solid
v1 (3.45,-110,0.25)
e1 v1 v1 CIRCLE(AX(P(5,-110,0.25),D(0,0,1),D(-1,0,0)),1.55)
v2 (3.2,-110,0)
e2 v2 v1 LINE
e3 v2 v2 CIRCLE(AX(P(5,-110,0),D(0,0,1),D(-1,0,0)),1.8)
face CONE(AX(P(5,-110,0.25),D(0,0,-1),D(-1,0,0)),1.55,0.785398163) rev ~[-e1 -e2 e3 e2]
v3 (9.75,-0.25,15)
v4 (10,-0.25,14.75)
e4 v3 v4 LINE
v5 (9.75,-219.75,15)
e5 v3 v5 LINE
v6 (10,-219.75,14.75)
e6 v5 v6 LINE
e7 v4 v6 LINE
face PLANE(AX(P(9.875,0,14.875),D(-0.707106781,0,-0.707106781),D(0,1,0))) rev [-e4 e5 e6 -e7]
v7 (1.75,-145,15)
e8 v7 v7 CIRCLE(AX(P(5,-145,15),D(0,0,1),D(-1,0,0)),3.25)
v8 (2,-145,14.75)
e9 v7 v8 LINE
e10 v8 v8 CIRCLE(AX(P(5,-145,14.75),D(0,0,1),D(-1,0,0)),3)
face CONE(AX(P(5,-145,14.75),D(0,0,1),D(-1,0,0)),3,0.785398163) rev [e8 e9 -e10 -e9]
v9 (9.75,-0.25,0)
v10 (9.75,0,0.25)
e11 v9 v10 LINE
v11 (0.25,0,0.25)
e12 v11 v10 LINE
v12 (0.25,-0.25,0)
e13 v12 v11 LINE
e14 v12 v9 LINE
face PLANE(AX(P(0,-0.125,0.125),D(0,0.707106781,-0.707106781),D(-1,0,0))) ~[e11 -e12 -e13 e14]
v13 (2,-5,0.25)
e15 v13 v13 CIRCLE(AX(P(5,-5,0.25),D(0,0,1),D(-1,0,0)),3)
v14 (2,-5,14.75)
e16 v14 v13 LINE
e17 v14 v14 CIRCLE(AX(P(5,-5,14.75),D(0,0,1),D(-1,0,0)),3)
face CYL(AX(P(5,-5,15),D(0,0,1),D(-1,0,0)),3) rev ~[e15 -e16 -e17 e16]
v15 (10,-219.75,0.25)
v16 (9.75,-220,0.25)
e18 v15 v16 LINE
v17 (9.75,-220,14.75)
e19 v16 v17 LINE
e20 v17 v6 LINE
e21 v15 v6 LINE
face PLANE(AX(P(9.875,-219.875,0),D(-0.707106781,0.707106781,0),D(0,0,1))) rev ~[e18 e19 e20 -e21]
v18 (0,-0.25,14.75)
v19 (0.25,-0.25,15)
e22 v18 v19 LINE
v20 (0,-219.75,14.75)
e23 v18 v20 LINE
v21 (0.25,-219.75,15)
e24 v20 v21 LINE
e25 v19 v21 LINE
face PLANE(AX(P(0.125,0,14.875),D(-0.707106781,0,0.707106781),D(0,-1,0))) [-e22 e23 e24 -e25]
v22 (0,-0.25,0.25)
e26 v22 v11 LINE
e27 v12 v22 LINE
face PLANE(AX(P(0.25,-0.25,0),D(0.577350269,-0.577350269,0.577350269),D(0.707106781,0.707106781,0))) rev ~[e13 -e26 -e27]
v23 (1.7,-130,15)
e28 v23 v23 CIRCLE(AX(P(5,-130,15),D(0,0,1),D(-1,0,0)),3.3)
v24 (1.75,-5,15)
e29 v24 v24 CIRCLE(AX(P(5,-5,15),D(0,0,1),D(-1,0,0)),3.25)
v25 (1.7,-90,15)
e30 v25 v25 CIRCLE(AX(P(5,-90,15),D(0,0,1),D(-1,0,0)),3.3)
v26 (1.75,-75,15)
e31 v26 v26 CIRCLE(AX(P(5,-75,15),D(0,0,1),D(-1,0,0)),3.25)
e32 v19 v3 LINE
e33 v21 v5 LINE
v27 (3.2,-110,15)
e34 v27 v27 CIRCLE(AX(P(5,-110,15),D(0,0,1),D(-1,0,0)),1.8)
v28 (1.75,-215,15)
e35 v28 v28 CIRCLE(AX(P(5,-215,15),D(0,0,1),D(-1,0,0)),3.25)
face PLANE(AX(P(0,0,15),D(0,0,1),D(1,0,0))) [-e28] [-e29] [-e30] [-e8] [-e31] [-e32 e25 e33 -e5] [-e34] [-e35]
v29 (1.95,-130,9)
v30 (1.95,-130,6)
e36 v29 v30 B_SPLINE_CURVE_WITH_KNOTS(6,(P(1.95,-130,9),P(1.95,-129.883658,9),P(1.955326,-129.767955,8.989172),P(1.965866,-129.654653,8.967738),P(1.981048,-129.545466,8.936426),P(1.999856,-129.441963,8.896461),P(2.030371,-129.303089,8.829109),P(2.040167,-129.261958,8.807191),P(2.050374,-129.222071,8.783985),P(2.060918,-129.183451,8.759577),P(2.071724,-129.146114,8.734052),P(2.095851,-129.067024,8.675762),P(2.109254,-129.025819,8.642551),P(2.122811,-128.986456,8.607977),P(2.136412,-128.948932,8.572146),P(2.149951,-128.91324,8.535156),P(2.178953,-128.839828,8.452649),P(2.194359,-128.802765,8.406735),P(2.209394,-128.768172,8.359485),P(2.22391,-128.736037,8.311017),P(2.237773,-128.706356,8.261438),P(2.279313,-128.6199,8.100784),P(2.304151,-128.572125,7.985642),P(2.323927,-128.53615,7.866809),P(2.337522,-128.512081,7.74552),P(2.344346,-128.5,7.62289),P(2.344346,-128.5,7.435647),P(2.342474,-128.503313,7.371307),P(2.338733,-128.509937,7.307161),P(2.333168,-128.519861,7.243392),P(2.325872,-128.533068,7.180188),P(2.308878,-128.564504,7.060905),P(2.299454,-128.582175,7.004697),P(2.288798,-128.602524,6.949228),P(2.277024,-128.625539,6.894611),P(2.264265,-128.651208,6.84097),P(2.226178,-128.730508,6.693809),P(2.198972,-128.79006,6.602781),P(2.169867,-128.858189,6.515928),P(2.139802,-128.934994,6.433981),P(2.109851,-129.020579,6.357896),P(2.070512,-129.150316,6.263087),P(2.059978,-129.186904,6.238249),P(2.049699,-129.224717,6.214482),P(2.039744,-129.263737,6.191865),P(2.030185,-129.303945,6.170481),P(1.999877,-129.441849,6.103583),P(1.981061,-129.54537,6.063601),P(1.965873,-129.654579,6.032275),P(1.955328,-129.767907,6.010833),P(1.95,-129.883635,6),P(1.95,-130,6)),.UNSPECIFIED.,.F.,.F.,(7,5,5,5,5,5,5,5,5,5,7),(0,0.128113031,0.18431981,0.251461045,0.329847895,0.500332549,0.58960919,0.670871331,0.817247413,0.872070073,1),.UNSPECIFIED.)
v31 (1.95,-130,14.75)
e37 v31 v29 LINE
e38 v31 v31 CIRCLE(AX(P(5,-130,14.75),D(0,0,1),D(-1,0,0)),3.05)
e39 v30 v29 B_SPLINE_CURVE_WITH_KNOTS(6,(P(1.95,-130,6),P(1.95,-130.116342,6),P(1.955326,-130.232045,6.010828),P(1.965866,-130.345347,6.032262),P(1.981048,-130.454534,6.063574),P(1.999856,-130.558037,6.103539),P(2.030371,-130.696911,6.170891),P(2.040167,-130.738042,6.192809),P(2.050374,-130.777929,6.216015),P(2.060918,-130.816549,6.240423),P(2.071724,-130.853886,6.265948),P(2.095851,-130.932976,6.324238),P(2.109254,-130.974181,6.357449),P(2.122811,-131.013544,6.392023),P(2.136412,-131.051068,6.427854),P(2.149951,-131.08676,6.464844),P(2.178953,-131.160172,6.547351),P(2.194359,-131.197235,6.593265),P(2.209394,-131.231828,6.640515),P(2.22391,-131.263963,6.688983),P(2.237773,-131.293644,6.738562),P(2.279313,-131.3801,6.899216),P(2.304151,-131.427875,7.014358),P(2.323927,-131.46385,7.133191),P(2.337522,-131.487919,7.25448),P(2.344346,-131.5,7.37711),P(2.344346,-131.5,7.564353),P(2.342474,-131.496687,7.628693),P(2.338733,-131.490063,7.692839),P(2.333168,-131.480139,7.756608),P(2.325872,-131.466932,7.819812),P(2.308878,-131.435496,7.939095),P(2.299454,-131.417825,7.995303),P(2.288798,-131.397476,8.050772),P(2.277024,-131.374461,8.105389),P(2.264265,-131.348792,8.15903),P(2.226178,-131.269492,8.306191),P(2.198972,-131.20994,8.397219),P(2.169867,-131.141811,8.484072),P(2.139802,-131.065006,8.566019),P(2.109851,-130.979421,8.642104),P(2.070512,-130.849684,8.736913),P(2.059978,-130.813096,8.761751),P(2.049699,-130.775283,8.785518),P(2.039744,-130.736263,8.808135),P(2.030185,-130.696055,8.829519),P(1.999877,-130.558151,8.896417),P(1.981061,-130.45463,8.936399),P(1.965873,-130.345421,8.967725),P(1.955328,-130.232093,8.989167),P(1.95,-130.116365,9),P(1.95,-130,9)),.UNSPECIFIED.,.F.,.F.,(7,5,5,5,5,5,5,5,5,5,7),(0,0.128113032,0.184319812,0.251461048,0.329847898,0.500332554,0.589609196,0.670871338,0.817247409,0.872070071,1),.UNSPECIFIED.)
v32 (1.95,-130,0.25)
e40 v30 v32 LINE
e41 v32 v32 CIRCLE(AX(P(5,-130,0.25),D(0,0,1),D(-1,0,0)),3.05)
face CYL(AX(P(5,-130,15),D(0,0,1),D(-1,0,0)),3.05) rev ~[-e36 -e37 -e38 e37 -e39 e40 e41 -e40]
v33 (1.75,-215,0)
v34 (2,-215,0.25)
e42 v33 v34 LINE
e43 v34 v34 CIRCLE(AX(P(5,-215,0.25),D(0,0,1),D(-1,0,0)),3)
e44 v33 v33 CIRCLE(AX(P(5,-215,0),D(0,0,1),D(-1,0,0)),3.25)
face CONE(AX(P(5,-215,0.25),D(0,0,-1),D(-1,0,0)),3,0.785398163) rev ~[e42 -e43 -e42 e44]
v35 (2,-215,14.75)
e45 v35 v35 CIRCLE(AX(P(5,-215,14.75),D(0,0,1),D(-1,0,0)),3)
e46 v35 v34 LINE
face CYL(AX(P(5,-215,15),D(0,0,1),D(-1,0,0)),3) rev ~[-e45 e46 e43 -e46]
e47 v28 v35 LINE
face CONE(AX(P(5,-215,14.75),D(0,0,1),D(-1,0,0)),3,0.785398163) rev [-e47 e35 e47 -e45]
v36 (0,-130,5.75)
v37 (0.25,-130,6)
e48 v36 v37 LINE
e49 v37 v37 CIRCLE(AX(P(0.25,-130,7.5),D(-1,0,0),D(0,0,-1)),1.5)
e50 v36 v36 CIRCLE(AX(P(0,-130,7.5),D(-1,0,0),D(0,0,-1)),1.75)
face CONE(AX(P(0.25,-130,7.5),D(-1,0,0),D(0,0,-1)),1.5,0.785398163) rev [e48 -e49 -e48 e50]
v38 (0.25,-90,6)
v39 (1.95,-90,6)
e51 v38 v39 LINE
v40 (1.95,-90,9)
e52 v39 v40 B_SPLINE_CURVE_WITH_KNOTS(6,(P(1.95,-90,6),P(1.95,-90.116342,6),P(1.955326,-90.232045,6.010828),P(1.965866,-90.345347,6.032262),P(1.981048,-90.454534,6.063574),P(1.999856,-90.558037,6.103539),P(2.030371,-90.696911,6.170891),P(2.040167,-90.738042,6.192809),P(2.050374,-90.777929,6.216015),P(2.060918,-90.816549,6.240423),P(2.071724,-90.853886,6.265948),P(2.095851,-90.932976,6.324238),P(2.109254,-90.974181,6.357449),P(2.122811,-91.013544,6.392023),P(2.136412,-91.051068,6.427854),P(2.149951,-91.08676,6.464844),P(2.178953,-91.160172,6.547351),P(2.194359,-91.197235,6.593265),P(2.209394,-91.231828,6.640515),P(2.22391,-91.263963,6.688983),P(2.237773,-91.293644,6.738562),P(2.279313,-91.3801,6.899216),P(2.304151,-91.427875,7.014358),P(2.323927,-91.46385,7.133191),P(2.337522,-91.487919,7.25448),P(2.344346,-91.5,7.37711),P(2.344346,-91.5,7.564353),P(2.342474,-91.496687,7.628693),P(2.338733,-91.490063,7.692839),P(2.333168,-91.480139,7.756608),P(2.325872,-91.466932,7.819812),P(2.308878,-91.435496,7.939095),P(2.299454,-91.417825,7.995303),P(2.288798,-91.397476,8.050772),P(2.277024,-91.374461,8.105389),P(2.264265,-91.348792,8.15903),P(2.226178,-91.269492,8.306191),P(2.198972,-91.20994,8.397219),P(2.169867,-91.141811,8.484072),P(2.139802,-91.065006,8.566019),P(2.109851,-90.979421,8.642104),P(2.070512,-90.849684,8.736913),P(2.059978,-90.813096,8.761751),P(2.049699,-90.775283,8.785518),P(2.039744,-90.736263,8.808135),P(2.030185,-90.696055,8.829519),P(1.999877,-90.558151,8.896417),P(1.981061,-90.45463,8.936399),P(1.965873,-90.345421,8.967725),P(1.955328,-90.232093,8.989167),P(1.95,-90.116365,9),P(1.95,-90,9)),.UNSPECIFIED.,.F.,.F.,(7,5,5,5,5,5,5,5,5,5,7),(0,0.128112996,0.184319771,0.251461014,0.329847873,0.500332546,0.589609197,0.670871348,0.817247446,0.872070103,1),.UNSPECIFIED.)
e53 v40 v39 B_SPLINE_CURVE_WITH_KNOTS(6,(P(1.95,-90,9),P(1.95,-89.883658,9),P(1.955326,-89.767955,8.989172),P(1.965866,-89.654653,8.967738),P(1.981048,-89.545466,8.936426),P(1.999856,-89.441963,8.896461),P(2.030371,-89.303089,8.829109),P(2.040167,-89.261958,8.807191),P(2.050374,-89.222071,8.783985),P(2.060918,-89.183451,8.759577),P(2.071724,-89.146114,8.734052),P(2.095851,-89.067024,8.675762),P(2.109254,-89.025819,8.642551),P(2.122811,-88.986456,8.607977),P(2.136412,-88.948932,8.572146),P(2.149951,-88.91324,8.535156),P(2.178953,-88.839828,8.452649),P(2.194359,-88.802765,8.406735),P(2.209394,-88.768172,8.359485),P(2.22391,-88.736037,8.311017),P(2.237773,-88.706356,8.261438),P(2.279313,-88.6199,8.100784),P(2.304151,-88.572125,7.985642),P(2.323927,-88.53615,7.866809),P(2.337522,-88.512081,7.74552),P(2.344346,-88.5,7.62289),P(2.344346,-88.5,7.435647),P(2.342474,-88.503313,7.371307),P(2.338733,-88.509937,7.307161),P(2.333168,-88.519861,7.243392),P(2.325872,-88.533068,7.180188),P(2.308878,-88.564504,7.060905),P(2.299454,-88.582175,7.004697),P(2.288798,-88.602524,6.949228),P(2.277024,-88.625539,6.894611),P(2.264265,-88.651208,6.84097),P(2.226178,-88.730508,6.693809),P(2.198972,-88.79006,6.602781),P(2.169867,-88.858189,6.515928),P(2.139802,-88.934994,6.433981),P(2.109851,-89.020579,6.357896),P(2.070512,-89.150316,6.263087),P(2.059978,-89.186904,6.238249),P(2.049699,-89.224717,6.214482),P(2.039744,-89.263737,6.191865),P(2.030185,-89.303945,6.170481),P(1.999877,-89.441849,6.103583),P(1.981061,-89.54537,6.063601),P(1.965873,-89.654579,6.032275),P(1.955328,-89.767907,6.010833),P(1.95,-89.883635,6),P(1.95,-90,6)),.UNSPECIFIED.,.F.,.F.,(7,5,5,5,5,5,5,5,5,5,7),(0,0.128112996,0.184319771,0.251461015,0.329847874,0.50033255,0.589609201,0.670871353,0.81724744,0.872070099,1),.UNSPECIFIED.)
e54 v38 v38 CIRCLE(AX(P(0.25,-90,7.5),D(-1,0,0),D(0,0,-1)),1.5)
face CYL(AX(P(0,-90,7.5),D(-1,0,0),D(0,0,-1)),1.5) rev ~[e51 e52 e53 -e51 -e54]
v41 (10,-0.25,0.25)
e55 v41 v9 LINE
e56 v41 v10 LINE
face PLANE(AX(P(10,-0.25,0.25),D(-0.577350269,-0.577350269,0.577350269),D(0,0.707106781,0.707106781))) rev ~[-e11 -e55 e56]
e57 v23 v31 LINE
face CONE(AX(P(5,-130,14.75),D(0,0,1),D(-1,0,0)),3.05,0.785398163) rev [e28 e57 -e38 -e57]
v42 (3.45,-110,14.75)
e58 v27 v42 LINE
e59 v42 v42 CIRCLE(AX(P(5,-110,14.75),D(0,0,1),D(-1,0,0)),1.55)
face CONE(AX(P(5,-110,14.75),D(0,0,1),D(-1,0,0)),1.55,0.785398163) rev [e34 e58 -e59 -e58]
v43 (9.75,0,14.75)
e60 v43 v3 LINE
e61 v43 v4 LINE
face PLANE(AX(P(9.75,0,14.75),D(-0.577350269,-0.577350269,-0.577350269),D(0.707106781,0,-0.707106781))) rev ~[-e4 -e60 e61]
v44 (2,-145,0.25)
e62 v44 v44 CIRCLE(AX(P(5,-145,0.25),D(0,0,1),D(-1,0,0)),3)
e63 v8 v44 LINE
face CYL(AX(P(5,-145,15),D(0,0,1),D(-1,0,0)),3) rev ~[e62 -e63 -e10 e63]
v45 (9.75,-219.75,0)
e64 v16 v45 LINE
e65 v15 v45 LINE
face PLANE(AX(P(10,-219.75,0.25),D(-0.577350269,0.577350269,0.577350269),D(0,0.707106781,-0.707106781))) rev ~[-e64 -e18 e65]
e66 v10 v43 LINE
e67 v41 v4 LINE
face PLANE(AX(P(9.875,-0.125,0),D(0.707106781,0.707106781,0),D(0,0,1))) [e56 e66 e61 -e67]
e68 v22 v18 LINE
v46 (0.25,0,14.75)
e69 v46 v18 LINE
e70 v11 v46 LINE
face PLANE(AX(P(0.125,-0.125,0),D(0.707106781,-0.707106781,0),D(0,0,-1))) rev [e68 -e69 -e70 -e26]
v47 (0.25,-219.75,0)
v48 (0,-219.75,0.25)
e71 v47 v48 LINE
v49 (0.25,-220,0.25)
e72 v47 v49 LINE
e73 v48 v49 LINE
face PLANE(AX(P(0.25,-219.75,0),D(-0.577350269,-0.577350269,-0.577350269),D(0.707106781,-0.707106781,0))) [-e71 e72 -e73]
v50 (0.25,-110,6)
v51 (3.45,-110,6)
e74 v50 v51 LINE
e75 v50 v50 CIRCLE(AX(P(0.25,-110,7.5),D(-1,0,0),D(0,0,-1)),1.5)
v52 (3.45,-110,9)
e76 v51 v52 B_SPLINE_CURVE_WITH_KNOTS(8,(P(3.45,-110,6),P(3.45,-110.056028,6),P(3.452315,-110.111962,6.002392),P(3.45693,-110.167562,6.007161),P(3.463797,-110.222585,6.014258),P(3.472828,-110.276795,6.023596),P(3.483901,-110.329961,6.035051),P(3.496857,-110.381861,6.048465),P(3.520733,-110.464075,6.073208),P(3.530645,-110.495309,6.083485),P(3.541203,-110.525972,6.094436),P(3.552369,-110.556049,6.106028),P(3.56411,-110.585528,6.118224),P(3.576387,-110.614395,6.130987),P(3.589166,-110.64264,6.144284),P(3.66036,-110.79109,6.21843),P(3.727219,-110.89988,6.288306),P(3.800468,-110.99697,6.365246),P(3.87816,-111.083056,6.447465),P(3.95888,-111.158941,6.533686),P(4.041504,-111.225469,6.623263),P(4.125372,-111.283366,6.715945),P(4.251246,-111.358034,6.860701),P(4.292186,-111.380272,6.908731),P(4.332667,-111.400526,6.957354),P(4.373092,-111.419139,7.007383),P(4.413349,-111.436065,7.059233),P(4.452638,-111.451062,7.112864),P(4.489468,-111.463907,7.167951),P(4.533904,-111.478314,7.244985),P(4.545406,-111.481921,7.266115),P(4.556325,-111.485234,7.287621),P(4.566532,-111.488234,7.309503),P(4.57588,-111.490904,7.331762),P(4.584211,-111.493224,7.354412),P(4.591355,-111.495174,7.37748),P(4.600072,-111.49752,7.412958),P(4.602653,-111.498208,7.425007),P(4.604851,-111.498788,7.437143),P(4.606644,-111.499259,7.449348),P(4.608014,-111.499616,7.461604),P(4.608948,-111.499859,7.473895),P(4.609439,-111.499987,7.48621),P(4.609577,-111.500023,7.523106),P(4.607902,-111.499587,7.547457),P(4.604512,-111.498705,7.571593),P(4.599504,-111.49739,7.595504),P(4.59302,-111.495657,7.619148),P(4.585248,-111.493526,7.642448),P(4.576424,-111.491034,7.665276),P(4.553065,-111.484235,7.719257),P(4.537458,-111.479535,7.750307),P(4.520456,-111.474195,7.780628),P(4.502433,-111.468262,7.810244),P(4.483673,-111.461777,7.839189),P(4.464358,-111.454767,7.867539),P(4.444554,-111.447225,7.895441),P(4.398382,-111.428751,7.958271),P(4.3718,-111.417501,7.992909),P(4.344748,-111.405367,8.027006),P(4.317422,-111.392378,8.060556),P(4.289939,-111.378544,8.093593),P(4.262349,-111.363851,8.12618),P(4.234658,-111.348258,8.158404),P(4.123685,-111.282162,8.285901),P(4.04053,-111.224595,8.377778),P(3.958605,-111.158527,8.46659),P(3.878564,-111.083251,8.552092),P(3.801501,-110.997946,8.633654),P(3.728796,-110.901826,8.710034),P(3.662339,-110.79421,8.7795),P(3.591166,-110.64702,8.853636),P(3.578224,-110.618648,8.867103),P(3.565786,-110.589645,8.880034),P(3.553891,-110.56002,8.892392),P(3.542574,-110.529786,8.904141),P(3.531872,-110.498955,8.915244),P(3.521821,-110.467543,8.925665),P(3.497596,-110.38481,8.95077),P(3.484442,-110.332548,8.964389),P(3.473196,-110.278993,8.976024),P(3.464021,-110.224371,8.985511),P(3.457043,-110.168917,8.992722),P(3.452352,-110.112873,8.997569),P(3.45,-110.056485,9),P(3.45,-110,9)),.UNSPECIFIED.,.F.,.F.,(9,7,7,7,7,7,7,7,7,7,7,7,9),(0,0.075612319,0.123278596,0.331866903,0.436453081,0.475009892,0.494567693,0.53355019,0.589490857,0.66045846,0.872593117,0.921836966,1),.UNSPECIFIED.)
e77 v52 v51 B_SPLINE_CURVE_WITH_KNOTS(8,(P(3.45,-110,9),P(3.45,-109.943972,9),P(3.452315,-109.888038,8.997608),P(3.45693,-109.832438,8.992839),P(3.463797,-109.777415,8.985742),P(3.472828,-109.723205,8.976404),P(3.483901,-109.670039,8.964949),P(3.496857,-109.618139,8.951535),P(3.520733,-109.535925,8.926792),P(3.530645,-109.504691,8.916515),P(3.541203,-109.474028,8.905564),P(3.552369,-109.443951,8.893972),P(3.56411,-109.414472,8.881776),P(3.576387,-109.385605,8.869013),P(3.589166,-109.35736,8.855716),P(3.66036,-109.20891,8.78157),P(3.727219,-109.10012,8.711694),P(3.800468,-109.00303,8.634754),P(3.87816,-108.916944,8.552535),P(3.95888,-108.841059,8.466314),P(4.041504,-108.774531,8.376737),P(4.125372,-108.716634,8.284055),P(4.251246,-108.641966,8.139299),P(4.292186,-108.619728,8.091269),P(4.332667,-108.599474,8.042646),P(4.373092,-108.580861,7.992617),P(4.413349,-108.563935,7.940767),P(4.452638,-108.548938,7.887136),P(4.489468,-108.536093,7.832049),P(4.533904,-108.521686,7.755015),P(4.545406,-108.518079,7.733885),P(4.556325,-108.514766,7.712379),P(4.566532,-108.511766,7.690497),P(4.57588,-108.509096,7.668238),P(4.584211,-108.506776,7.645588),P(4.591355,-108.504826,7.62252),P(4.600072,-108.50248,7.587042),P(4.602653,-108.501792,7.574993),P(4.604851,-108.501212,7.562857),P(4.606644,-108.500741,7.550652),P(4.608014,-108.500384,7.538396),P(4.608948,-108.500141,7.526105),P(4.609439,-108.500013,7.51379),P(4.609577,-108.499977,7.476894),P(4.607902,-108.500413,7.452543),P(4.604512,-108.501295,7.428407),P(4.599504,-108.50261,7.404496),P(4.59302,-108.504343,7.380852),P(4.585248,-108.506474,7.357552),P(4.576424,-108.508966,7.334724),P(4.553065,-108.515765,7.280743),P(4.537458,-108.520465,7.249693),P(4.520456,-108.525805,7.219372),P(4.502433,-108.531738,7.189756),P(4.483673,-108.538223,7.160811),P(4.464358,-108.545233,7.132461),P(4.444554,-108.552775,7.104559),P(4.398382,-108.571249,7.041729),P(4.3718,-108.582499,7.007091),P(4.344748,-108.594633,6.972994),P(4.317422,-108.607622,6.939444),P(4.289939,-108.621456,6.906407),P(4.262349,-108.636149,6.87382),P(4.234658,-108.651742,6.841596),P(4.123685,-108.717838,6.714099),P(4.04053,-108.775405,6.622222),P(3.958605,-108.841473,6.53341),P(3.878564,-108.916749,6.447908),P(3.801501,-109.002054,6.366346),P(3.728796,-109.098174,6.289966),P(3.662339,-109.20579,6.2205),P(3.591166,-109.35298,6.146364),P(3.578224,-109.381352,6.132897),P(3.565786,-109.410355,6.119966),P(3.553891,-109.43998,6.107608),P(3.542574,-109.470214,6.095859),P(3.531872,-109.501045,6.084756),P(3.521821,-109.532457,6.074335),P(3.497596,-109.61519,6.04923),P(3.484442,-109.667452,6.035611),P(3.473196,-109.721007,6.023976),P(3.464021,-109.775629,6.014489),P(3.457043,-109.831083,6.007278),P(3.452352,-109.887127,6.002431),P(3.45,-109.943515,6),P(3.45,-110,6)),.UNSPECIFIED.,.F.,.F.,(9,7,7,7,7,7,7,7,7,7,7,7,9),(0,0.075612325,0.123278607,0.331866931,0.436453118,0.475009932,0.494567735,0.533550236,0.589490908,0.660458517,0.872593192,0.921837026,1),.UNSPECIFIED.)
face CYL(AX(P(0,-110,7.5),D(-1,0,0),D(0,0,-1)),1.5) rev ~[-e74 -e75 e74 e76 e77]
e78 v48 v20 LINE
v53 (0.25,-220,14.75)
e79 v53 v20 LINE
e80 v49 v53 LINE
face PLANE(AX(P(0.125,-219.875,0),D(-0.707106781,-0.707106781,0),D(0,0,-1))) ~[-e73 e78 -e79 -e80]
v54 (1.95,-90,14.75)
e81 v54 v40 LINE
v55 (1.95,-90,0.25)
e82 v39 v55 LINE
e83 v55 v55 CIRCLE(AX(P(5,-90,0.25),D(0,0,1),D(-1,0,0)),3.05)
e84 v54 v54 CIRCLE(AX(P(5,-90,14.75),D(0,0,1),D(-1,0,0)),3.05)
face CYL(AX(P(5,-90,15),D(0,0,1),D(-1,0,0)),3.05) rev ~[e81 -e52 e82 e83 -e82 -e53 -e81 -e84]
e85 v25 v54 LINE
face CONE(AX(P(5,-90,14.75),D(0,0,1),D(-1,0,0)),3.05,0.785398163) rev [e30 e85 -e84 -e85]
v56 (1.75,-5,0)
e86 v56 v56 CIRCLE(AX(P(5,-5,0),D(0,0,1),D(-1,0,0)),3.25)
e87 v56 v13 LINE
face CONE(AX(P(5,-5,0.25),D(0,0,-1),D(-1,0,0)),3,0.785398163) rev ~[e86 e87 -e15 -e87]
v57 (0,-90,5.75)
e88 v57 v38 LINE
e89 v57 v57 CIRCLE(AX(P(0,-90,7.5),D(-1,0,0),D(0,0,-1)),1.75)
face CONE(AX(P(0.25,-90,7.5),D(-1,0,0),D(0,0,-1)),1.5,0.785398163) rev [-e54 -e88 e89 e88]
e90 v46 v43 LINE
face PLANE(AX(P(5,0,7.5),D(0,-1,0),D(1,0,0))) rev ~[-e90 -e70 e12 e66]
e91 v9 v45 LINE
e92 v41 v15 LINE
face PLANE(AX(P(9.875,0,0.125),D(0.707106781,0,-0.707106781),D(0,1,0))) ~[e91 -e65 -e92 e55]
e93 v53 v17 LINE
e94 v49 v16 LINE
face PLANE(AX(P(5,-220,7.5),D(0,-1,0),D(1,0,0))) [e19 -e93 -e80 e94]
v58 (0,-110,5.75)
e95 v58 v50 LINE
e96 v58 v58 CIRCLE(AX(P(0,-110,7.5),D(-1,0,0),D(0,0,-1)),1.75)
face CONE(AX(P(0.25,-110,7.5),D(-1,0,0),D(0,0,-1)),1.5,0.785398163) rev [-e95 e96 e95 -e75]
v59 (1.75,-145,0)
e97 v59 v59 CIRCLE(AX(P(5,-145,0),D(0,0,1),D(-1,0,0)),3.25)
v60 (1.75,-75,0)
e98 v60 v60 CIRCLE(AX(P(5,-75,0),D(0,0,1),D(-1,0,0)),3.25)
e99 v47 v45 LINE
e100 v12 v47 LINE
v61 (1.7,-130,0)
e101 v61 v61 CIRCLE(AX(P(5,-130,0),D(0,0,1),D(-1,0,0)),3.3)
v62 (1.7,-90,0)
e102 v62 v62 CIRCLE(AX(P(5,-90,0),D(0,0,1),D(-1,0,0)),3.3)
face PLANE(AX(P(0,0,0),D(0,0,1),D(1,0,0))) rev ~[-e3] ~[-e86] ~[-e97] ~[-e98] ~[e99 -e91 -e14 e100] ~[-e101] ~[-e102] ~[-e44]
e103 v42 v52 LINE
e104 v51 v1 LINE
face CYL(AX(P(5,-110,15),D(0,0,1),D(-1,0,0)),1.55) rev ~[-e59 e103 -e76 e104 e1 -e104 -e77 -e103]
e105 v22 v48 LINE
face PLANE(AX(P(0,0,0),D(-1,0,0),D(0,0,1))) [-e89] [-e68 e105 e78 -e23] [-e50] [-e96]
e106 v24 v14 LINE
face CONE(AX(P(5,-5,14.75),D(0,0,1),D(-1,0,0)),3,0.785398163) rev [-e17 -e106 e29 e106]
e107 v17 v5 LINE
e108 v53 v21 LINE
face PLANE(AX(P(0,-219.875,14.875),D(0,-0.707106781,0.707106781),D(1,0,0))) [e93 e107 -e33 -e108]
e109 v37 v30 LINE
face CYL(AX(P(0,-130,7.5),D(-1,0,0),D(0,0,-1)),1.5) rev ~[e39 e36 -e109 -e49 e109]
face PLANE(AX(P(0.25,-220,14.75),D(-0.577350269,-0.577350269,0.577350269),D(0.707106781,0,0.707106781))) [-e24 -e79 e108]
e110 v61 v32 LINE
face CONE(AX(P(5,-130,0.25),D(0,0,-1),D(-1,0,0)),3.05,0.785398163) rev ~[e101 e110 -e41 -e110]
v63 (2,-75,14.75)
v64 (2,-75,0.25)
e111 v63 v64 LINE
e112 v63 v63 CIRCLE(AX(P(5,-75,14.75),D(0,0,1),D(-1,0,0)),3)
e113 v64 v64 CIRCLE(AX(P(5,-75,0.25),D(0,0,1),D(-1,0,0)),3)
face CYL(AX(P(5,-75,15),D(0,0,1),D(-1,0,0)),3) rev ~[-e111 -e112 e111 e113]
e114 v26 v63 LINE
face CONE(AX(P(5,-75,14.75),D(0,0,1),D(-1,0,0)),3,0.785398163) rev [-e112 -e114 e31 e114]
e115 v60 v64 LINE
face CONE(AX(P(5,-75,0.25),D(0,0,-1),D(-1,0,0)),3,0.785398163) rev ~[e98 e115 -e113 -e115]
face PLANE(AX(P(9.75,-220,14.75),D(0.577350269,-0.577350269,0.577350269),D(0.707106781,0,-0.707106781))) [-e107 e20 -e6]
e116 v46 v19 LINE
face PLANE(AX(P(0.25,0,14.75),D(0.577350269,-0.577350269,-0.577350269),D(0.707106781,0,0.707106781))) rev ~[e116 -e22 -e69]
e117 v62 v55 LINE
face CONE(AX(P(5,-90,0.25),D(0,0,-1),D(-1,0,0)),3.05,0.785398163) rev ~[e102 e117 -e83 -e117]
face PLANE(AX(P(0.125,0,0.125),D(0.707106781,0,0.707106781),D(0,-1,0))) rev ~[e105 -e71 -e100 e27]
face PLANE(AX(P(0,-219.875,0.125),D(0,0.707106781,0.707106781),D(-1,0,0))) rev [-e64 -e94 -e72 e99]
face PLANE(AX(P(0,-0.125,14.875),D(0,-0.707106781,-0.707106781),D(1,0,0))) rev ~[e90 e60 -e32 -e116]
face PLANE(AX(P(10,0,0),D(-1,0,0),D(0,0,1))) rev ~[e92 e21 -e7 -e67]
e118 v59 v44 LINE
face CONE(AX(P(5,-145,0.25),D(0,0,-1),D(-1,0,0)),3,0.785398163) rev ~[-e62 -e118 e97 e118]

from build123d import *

# Parameters (mm, degrees)
SKETCH_W        = 10
SKETCH_H        = 15
PAD_DEPTH       = 220
SKETCH001_R     = 3
POCKET_DEPTH    = 15.001
SKETCH002_R     = 3.05
SKETCH002_R_2   = 1.55
POCKET001_DEPTH = 15.001
SKETCH003_R     = 1.5
POCKET002_DEPTH = 5
CHAMFER_SIZE    = 0.25


with BuildPart() as part:
    # Sketch → Pad (new body)
    with BuildSketch(Plane.XZ):
        with Locations((5, 7.5)):
            Rectangle(SKETCH_W, SKETCH_H)
    extrude(amount=PAD_DEPTH)

    # Sketch001 (on Face3 of Pad) → Pocket (cut, through all)
    with BuildSketch(Plane(origin=(0, 0, 15), x_dir=(-1, 0, 0), z_dir=(0, 0, 1))):
        with Locations((-5, 215)):
            Circle(SKETCH001_R)
        with Locations((-5, 145)):
            Circle(SKETCH001_R)
        with Locations((-5, 75)):
            Circle(SKETCH001_R)
        with Locations((-5, 5)):
            Circle(SKETCH001_R)
    extrude(amount=-POCKET_DEPTH, mode=Mode.SUBTRACT)

    # Sketch002 (on Face10 of Pocket) → Pocket001 (cut, through all)
    with BuildSketch(Plane(origin=(0, 0, 15), x_dir=(-1, 0, 0), z_dir=(0, 0, 1))):
        with Locations((-5, 130)):
            Circle(SKETCH002_R)
        with Locations((-5, 110)):
            Circle(SKETCH002_R_2)
        with Locations((-5, 90)):
            Circle(SKETCH002_R)
    extrude(amount=-POCKET001_DEPTH, mode=Mode.SUBTRACT)

    # Sketch003 (on Face2 of Pocket001) → Pocket002 (cut)
    with BuildSketch(Plane(origin=(0, 0, 0), x_dir=(0, 0, -1), z_dir=(-1, 0, 0))):
        with Locations((-7.5, 130)):
            Circle(SKETCH003_R)
        with Locations((-7.5, 110)):
            Circle(SKETCH003_R)
        with Locations((-7.5, 90)):
            Circle(SKETCH003_R)
    extrude(amount=-POCKET002_DEPTH, mode=Mode.SUBTRACT)

    # Chamfer
    chamfer_edges = [part.edges().sort_by_distance(p)[0] for p in [
        (0, -110, 15),
        (0, 0, 7.5),
        (0, -220, 7.5),
        (0, -110, 0),
        (0, -130, 9),
        (0, -110, 9),
        (0, -90, 9),
        (10, -110, 15),
        (5, 0, 15),
        (5, -220, 15),
        (8.05, -130, 15),
        (6.55, -110, 15),
        (8.05, -90, 15),
        (8, -75, 15),
        (8, -5, 15),
        (8, -215, 15),
        (8, -145, 15),
        (5, -220, 0),
        (10, -220, 7.5),
        (5, 0, 0),
        (10, -110, 0),
        (8.05, -130, 0),
        (6.55, -110, 0),
        (8.05, -90, 0),
        (8, -75, 0),
        (8, -5, 0),
        (8, -215, 0),
        (8, -145, 0),
        (10, 0, 7.5),
    ]]
    chamfer(chamfer_edges, length=CHAMFER_SIZE)


solid = part.part
